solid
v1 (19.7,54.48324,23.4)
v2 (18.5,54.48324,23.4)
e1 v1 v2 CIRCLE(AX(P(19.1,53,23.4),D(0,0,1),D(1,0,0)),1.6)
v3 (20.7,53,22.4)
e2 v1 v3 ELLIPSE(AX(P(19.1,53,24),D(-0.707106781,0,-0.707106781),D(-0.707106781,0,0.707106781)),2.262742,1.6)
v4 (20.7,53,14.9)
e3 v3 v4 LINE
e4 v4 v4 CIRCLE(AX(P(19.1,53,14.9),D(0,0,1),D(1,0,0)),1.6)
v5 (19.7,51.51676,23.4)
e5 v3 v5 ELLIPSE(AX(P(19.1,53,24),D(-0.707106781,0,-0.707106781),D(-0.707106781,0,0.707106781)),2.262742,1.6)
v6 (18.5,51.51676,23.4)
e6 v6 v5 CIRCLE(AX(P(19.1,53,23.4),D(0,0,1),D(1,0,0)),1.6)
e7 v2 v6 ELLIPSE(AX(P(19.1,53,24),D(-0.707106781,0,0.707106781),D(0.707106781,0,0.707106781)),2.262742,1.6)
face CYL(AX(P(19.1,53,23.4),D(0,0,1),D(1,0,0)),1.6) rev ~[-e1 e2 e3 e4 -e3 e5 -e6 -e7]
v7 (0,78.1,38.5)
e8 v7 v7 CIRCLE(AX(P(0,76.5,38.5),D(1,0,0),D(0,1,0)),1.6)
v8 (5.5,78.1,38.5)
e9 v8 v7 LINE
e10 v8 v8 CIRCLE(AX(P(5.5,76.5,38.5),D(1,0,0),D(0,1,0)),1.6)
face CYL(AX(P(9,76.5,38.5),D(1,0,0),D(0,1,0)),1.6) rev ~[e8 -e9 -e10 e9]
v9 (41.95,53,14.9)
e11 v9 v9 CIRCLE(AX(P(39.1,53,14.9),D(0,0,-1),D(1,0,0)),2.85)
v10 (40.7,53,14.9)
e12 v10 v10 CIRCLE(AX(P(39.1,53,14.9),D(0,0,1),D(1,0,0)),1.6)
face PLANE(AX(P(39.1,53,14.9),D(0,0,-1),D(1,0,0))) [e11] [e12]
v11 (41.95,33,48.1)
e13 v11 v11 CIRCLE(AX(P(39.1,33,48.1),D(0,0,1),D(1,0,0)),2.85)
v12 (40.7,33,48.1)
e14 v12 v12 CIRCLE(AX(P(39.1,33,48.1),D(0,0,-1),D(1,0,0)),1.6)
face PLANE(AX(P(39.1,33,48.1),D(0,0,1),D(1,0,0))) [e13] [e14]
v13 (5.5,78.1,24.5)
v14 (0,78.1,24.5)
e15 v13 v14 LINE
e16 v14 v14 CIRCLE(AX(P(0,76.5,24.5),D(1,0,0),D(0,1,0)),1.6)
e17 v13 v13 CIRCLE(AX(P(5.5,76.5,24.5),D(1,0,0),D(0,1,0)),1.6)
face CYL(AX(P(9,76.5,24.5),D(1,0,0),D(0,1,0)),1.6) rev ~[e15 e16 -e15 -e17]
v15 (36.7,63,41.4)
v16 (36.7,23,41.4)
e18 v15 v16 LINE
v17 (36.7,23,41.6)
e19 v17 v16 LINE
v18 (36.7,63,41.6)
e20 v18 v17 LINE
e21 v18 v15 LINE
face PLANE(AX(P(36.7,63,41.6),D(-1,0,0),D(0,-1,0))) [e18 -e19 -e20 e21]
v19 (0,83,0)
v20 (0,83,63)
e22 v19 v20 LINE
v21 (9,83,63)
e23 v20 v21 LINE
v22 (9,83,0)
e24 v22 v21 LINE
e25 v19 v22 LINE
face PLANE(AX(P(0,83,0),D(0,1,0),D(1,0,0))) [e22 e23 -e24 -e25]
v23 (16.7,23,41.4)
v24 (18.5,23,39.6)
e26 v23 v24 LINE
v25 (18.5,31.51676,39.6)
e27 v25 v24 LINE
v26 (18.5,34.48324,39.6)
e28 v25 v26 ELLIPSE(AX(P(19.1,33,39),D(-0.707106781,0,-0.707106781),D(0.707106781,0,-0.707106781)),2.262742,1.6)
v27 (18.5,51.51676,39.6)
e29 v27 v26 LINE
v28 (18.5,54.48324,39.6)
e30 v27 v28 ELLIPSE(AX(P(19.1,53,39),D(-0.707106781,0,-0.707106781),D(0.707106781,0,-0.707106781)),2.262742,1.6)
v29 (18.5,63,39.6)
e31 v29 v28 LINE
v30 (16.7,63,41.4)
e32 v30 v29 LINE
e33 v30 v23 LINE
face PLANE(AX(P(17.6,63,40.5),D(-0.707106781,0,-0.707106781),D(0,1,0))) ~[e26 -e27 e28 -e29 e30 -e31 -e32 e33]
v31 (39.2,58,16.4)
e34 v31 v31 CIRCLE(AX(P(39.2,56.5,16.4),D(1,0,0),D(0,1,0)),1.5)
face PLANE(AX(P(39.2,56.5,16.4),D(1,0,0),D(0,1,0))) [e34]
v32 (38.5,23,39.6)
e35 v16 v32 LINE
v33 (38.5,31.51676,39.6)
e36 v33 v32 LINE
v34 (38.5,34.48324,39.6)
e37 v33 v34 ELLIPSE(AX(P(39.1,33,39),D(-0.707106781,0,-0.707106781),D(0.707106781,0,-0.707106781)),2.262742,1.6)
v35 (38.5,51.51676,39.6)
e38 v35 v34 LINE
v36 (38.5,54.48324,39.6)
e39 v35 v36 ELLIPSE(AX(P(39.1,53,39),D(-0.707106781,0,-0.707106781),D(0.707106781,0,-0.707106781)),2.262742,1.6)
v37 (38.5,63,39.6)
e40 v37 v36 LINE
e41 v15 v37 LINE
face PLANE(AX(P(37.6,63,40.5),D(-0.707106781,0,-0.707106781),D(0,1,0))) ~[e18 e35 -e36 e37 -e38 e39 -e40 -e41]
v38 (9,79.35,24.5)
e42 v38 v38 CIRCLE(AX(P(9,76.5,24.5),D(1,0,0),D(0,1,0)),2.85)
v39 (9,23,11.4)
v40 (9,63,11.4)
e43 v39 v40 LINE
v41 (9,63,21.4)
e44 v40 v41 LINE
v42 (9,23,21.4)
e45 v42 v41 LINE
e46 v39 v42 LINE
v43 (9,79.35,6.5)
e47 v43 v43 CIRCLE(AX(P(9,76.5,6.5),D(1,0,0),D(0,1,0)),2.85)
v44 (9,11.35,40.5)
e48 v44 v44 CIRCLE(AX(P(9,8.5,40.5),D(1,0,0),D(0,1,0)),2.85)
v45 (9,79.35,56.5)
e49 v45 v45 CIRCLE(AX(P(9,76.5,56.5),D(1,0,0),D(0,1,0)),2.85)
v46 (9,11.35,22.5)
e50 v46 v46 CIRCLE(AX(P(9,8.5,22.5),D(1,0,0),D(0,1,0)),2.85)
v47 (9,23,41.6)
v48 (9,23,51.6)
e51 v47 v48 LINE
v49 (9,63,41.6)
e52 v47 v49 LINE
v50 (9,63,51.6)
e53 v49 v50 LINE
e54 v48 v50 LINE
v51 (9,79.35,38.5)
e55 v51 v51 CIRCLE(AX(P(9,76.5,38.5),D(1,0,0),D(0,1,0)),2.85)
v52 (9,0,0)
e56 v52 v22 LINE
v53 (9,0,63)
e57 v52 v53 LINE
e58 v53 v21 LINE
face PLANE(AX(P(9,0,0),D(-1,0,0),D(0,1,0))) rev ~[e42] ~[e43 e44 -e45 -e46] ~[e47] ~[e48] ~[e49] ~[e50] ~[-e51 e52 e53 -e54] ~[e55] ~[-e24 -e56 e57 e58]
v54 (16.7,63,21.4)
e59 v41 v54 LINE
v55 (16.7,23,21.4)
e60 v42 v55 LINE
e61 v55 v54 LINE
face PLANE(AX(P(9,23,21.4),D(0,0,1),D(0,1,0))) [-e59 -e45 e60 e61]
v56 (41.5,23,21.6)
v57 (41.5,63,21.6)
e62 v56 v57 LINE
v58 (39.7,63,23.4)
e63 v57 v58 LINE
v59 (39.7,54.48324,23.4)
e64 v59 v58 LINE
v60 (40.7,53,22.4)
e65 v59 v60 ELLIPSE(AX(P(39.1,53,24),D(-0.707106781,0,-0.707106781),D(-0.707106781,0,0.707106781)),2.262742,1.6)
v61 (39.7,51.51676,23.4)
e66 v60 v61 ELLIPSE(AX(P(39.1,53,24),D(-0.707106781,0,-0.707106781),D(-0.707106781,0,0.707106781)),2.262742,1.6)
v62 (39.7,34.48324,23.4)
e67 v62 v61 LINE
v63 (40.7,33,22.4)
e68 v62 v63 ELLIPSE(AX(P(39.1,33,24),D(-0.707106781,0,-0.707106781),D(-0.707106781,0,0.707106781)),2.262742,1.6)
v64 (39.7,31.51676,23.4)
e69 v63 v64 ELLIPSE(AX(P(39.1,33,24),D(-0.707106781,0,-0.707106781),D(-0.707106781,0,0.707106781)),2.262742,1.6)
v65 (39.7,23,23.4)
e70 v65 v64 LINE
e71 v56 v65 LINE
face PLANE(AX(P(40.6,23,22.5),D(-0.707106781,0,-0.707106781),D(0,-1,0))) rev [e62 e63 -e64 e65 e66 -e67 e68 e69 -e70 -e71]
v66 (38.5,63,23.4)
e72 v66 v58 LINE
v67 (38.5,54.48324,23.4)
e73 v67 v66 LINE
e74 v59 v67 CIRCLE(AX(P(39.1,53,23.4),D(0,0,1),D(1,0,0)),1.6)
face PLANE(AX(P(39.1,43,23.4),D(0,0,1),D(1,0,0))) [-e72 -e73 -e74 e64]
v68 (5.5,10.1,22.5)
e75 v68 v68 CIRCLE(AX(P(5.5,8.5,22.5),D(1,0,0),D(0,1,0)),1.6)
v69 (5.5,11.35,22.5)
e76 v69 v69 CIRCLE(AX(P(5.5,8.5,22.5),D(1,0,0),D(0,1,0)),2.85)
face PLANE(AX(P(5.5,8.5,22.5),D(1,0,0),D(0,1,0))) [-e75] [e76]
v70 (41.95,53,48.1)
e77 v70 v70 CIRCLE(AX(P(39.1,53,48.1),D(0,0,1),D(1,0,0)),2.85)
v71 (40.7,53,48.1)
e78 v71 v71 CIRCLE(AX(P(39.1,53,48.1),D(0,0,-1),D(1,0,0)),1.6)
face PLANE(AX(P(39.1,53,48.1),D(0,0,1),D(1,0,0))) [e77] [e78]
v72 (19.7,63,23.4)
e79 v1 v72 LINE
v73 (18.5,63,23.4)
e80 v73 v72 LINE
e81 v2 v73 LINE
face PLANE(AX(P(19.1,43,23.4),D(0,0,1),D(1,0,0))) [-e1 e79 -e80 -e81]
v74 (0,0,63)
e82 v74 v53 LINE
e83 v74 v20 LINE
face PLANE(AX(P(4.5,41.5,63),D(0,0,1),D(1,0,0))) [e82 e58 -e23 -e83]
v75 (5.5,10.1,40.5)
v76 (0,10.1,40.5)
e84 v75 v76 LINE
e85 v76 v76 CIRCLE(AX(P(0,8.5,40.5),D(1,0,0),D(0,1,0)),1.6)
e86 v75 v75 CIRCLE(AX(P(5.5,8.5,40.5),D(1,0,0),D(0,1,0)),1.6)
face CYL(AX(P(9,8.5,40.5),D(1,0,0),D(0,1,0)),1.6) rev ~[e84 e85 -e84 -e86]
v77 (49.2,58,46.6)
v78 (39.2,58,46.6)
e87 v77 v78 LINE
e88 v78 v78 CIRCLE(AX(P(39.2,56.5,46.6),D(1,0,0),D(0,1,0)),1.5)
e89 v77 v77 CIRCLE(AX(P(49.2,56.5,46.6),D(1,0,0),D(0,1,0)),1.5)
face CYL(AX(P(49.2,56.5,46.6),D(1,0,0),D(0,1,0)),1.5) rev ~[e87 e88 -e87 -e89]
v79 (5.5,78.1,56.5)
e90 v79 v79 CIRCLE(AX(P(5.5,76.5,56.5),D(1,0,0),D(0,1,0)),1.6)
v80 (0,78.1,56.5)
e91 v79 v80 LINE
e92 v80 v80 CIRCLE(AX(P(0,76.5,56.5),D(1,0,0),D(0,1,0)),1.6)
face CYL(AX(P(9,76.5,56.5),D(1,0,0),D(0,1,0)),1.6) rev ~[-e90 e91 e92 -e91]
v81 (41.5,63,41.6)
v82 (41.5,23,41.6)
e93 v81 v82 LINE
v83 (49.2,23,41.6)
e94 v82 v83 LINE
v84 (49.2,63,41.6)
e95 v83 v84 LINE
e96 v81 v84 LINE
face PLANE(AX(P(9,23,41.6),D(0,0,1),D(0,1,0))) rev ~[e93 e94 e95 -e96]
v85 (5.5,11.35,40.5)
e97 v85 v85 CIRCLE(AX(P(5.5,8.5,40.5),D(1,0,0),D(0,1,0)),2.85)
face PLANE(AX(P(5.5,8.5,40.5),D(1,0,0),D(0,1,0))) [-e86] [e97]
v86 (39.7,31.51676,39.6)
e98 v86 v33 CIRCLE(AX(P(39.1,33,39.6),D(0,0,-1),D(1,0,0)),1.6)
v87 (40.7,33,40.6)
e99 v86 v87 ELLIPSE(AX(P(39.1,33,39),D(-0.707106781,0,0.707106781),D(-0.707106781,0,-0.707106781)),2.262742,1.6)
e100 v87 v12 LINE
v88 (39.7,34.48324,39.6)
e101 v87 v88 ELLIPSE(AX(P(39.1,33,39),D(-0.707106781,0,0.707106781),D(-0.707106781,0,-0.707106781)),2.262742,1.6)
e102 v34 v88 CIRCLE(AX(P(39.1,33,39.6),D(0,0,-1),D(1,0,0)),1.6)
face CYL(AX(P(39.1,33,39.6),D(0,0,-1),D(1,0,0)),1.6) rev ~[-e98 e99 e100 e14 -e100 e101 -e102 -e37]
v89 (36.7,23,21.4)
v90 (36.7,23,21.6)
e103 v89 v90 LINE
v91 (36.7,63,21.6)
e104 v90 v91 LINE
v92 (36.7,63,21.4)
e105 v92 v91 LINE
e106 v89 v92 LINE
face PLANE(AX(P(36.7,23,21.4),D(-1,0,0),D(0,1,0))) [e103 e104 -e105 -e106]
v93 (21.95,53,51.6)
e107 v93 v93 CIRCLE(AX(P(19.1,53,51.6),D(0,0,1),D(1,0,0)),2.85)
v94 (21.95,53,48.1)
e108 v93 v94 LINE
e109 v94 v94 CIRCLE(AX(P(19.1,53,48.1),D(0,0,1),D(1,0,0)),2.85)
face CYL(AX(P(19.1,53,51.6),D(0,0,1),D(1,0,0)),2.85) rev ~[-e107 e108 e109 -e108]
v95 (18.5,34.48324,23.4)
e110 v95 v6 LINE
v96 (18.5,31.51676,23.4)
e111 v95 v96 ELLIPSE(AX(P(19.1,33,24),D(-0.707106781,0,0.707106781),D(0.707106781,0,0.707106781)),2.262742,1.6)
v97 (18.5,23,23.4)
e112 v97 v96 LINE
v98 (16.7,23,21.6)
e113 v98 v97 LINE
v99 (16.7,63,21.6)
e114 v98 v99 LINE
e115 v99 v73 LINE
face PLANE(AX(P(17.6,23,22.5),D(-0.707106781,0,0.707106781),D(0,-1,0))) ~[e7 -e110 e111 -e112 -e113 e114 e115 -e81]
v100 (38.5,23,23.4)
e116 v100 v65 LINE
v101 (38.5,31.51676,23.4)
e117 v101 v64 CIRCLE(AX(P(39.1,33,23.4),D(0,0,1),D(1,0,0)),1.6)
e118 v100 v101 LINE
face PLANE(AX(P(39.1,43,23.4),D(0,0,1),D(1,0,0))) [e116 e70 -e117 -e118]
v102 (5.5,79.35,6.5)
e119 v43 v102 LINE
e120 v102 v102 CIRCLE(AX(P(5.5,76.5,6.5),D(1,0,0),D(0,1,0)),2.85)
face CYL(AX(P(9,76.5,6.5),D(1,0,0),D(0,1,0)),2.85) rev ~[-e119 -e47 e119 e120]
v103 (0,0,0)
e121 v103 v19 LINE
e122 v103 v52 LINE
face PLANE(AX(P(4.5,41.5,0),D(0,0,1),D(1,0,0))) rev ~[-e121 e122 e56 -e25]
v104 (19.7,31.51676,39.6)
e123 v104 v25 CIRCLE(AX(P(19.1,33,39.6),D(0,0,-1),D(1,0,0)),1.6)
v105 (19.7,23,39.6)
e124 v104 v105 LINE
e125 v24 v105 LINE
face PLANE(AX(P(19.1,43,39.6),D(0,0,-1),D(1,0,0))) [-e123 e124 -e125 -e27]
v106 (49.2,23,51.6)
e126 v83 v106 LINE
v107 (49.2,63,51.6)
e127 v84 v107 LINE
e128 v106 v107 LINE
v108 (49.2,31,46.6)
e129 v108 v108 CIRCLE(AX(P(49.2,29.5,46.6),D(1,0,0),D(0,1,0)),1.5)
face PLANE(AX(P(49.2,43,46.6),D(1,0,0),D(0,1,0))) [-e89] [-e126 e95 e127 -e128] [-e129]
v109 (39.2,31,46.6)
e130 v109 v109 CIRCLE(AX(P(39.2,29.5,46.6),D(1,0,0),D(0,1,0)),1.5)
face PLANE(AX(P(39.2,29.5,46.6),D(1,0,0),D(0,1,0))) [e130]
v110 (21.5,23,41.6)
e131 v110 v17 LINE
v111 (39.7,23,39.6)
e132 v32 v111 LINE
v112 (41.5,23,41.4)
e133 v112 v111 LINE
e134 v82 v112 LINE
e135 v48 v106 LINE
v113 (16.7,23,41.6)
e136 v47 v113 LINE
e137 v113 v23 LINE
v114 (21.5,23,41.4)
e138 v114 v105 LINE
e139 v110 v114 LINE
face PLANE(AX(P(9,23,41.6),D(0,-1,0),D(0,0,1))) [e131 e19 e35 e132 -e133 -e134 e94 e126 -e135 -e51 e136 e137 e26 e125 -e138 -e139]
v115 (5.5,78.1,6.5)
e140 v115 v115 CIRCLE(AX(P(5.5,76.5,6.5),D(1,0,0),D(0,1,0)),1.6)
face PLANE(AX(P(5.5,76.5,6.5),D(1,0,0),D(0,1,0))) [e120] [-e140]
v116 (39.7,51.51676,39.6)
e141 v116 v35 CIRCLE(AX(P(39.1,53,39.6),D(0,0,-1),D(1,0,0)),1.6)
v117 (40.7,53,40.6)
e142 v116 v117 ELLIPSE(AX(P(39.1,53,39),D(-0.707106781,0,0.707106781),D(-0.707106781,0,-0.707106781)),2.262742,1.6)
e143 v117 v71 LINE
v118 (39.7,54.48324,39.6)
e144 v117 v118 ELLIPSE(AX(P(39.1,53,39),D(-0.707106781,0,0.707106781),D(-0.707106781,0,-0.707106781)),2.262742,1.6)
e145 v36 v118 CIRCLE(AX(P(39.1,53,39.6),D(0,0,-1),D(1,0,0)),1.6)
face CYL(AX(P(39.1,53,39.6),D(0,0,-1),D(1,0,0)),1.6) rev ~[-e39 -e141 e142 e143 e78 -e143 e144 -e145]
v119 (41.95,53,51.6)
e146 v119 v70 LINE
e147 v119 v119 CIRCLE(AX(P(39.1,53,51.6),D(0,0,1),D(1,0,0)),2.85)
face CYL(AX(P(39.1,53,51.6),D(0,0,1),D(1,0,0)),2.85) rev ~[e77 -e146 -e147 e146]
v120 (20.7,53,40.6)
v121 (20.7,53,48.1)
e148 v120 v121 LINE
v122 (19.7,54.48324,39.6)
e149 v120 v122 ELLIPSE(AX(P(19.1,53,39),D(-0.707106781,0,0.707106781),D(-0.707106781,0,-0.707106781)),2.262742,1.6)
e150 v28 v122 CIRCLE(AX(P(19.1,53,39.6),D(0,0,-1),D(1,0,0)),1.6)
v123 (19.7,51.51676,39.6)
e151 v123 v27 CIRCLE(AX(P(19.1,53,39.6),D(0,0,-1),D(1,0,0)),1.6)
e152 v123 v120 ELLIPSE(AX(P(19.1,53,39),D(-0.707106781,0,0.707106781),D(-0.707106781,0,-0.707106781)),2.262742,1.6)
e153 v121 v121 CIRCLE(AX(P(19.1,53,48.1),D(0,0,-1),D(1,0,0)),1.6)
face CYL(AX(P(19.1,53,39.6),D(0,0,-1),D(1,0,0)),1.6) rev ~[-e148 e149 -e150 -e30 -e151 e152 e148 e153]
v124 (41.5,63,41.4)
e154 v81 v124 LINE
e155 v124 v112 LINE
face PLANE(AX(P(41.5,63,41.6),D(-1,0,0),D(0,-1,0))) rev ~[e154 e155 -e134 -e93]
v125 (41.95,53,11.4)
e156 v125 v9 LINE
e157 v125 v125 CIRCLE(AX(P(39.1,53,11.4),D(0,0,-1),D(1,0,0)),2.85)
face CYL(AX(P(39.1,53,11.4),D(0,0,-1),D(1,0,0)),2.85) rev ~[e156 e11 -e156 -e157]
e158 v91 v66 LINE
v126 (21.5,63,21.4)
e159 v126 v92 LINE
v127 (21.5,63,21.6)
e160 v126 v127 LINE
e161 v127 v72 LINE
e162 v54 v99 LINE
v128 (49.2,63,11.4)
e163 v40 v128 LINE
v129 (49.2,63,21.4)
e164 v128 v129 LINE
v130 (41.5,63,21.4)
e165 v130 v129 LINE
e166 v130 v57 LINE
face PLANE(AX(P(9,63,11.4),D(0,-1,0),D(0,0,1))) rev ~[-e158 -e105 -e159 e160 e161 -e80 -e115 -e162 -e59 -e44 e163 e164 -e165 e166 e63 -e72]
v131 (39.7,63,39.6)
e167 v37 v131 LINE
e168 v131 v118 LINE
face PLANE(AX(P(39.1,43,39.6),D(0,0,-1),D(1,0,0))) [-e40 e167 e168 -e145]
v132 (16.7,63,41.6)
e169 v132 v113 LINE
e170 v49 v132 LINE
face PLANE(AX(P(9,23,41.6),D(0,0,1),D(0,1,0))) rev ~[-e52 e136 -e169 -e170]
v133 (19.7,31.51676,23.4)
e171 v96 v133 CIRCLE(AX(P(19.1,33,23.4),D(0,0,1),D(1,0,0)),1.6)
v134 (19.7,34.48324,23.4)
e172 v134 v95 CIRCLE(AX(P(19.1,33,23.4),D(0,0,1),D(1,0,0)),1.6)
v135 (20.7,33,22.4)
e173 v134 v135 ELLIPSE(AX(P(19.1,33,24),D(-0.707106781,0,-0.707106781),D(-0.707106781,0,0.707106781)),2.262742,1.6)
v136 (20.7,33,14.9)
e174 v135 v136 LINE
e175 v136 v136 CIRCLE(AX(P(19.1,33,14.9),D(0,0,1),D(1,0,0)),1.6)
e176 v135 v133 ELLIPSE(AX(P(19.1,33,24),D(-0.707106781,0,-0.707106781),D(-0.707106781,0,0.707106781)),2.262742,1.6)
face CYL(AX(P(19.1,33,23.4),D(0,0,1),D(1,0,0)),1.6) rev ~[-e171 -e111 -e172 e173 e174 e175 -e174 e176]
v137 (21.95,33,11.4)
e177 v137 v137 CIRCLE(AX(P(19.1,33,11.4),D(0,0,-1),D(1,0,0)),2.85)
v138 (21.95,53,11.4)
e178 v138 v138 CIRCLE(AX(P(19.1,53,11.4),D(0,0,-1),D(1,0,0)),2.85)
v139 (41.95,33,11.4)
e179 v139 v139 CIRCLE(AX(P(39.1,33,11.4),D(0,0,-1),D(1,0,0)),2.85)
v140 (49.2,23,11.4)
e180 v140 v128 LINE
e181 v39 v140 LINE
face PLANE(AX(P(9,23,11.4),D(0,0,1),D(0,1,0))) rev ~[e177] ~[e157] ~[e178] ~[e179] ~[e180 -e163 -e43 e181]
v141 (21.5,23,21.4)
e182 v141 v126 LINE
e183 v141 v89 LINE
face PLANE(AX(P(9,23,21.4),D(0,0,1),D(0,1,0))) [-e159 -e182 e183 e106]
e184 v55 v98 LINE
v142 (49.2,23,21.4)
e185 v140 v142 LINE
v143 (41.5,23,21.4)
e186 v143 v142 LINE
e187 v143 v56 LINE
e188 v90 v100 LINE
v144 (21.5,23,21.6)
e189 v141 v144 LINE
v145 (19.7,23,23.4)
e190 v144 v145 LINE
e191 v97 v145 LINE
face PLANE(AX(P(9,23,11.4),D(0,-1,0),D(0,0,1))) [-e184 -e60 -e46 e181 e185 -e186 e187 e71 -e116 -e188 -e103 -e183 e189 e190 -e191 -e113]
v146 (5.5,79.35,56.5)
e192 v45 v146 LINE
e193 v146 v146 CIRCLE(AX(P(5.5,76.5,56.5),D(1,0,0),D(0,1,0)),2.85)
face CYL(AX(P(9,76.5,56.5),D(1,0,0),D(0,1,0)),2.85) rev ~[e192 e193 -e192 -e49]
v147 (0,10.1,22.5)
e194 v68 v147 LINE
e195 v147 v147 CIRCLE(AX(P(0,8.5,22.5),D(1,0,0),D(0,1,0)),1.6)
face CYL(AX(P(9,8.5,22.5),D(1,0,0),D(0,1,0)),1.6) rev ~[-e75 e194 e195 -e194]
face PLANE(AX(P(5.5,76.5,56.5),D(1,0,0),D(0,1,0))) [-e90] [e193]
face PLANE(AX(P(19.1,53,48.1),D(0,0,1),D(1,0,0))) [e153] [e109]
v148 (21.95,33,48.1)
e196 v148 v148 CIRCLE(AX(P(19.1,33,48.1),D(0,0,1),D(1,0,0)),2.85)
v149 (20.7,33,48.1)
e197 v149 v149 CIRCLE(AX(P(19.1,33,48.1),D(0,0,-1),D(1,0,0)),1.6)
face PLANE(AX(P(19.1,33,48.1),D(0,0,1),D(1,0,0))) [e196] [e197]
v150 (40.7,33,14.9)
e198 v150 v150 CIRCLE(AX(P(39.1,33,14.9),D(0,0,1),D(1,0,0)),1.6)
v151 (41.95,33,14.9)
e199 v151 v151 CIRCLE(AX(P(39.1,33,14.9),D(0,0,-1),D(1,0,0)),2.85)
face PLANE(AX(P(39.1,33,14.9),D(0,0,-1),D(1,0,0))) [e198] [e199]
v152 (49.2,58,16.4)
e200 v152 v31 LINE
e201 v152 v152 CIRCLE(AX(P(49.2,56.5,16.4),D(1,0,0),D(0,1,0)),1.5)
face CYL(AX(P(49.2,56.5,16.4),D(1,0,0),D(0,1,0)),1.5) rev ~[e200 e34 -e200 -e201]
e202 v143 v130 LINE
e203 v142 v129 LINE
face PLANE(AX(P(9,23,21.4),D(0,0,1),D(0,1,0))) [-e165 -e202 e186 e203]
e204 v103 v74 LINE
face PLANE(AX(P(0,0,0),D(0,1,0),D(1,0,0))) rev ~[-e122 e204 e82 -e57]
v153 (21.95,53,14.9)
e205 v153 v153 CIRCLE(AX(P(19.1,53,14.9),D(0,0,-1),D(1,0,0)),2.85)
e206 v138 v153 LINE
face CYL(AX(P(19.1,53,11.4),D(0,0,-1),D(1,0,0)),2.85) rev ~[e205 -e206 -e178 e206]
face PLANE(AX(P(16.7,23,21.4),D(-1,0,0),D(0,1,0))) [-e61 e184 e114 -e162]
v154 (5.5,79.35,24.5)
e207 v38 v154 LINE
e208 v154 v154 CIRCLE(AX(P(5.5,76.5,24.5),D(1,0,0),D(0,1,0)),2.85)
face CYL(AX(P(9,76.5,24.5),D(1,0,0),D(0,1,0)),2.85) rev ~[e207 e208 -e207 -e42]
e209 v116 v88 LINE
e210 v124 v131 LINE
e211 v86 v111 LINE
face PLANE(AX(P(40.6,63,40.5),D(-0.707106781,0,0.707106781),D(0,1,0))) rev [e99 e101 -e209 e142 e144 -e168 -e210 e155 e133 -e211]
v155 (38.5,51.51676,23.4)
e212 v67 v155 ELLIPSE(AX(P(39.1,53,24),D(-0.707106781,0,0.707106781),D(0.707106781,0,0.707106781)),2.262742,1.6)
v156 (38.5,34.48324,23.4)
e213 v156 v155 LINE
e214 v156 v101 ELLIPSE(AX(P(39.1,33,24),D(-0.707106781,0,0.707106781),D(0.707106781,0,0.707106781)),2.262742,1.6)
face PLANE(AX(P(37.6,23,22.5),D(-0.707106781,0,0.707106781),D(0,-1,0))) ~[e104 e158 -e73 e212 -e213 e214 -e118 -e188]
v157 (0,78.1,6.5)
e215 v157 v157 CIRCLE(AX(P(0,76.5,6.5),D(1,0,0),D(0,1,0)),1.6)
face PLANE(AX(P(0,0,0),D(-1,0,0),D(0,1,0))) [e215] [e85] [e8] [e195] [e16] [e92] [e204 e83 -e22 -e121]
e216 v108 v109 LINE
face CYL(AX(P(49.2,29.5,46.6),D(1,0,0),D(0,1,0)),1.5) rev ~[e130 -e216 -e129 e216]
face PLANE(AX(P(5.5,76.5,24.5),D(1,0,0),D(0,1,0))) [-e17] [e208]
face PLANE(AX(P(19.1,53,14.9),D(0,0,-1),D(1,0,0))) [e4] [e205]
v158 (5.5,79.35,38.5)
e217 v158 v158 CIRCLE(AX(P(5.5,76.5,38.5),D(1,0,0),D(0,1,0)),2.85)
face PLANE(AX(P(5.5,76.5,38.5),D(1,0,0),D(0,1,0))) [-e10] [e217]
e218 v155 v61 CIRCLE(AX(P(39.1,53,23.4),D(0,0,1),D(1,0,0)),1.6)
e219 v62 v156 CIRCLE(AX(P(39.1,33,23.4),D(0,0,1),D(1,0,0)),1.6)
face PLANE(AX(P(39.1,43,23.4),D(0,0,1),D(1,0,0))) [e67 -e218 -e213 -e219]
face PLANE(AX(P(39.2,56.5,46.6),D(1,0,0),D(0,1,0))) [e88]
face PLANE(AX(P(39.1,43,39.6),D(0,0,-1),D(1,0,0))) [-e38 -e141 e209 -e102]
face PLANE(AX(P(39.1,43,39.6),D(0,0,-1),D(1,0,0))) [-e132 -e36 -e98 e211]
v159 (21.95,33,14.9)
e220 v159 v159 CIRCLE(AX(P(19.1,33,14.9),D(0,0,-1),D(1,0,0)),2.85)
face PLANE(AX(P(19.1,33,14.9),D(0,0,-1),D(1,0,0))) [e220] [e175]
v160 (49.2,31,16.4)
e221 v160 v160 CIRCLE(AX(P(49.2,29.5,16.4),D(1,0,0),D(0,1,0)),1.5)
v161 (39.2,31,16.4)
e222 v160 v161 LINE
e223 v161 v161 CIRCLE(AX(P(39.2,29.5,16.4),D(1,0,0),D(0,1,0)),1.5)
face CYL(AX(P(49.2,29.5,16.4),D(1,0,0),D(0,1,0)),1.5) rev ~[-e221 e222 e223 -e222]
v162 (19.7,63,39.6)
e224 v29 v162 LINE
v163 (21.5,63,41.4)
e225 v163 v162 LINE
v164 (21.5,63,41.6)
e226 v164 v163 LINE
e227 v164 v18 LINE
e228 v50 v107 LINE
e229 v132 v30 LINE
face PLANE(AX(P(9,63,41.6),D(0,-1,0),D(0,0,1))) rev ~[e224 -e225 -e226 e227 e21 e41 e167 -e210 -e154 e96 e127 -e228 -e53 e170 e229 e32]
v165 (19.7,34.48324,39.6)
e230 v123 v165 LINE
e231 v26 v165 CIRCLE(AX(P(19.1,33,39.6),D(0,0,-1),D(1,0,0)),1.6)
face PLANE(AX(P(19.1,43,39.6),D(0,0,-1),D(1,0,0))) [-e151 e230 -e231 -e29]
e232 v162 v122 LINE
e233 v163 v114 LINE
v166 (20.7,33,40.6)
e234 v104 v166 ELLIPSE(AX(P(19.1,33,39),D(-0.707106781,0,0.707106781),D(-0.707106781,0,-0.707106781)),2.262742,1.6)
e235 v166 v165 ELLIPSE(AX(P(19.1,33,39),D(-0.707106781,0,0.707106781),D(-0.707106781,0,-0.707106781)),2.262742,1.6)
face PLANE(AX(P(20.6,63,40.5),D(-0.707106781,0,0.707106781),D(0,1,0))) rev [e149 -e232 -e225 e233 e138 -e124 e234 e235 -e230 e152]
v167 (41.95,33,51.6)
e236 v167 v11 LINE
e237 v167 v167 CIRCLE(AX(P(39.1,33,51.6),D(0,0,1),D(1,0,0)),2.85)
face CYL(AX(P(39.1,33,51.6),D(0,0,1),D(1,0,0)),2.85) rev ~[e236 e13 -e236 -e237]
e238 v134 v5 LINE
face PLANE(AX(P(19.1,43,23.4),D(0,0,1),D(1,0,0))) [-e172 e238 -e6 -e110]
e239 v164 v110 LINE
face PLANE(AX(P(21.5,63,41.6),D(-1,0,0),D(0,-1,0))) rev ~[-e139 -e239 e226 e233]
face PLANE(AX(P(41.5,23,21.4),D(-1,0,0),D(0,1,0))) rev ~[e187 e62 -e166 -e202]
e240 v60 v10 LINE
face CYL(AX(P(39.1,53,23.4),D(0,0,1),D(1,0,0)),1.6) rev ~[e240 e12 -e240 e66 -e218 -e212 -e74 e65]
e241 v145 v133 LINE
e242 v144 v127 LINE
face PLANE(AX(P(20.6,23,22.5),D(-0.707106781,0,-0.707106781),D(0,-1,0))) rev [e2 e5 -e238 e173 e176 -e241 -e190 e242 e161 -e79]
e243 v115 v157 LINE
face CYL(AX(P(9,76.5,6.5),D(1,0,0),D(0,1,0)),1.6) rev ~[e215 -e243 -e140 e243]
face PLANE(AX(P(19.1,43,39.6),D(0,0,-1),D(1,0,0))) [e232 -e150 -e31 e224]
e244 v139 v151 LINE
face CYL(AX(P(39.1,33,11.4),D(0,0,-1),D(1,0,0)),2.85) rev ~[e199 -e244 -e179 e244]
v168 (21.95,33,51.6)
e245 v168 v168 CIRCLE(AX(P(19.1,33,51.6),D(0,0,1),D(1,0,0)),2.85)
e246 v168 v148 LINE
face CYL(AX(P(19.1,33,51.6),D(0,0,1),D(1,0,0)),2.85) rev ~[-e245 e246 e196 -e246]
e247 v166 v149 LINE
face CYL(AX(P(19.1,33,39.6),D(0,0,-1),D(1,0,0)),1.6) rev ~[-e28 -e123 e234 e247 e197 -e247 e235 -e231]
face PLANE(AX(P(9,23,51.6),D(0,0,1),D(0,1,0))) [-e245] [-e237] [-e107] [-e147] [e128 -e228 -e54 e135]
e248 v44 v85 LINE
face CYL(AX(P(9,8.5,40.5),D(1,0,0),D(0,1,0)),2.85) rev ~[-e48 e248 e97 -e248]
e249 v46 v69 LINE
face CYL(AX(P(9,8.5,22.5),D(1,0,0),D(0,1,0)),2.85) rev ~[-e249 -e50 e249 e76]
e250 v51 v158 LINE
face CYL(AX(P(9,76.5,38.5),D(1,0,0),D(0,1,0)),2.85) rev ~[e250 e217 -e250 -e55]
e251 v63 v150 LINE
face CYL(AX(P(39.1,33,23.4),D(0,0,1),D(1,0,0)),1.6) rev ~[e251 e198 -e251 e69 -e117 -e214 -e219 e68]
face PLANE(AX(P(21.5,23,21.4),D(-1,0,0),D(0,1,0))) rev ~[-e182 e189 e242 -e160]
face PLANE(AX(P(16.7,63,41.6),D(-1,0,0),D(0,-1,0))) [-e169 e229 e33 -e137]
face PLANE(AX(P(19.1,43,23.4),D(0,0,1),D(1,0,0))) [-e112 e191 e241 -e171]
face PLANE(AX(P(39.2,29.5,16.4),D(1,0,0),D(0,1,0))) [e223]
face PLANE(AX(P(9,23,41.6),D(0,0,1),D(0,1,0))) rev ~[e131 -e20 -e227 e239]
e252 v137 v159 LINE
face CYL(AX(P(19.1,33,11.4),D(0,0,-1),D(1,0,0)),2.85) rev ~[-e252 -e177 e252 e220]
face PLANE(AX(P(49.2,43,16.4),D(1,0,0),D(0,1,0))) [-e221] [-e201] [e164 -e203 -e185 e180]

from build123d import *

# Parameters (mm, degrees)
F1_W      = 9
F1_H      = 83
F2_DEPTH  = 63
F3_R      = 2.85
F4_DEPTH  = 3.5
F5_R      = 1.6
F6_DEPTH  = 25
F7_W      = 40
F7_H      = 10
F8_DEPTH  = 40.2
F9_W      = 4.8
F9_H      = 40
F10_DEPTH = 2
F11_SIZE  = 1.8
F12_R     = 1.6
F13_DEPTH = 25
F14_W     = 4.8
F14_H     = 40
F15_DEPTH = 2
F16_SIZE  = 1.8
F17_R     = 1.6
F18_DEPTH = 25
F19_R     = 2.85
F20_DEPTH = 3.5
F21_R     = 2.85
F22_DEPTH = 3.5
F23_R     = 1.5
F24_DEPTH = 10


with BuildPart() as f2:
    # F1 (on Top) → F2 (new body)
    with BuildSketch(Plane.XY):
        with Locations((4.5, 41.5)):
            Rectangle(F1_W, F1_H)
    extrude(amount=F2_DEPTH)

    # F3 (on face) → F4 (cut)
    with BuildSketch(Plane.YZ.offset(9)):
        with Locations((8.5, 40.5)):
            Circle(F3_R)
        with Locations((8.5, 22.5)):
            Circle(F3_R)
        with Locations((76.5, 56.5)):
            Circle(F3_R)
        with Locations((76.5, 38.5)):
            Circle(F3_R)
        with Locations((76.5, 24.5)):
            Circle(F3_R)
        with Locations((76.5, 6.5)):
            Circle(F3_R)
    extrude(amount=-F4_DEPTH, mode=Mode.SUBTRACT)

    # F5 (on face) → F6 (cut)
    with BuildSketch(Plane.YZ.offset(9)):
        with Locations((8.5, 40.5)):
            Circle(F5_R)
        with Locations((8.5, 22.5)):
            Circle(F5_R)
        with Locations((76.5, 24.5)):
            Circle(F5_R)
        with Locations((76.5, 38.5)):
            Circle(F5_R)
        with Locations((76.5, 56.5)):
            Circle(F5_R)
        with Locations((76.5, 6.5)):
            Circle(F5_R)
    extrude(amount=-F6_DEPTH, mode=Mode.SUBTRACT)

    # F7 (on face) → F8 (join)
    with BuildSketch(Plane.YZ.offset(9)):
        with Locations((43, 16.4)):
            Rectangle(F7_W, F7_H)
        with Locations((43, 46.6)):
            Rectangle(F7_W, F7_H)
    extrude(amount=F8_DEPTH)

    # F9 (on face) → F10 (join)
    with BuildSketch(Plane(origin=(0, 0, 41.6), x_dir=(1, 0, 0), z_dir=(0, 0, -1))):
        with Locations((19.1, -43)):
            Rectangle(F9_W, F9_H)
        with Locations((39.1, -43)):
            Rectangle(F9_W, F9_H)
    extrude(amount=F10_DEPTH)

    # F11
    f11_edges = [f2.edges().sort_by_distance(p)[0] for p in [
        (21.5, 43, 39.6),
        (16.7, 43, 39.6),
        (41.5, 43, 39.6),
        (36.7, 43, 39.6),
    ]]
    chamfer(f11_edges, length=F11_SIZE)

    # F12 (on face) → F13 (cut)
    with BuildSketch(Plane(origin=(0, 0, 39.6), x_dir=(1, 0, 0), z_dir=(0, 0, -1))):
        with Locations((19.1, -33)):
            Circle(F12_R)
        with Locations((19.1, -53)):
            Circle(F12_R)
        with Locations((39.1, -33)):
            Circle(F12_R)
        with Locations((39.1, -53)):
            Circle(F12_R)
    extrude(amount=-F13_DEPTH, mode=Mode.SUBTRACT)

    # F14 (on face) → F15 (join)
    with BuildSketch(Plane.XY.offset(21.4)):
        with Locations((19.1, 43)):
            Rectangle(F14_W, F14_H)
        with Locations((39.1, 43)):
            Rectangle(F14_W, F14_H)
    extrude(amount=F15_DEPTH)

    # F16
    f16_edges = [f2.edges().sort_by_distance(p)[0] for p in [
        (21.5, 43, 23.4),
        (16.7, 43, 23.4),
        (36.7, 43, 23.4),
        (41.5, 43, 23.4),
    ]]
    chamfer(f16_edges, length=F16_SIZE)

    # F17 (on face) → F18 (cut)
    with BuildSketch(Plane.XY.offset(23.4)):
        with Locations((19.1, 33)):
            Circle(F17_R)
        with Locations((19.1, 53)):
            Circle(F17_R)
        with Locations((39.1, 33)):
            Circle(F17_R)
        with Locations((39.1, 53)):
            Circle(F17_R)
    extrude(amount=-F18_DEPTH, mode=Mode.SUBTRACT)

    # F19 (on face) → F20 (cut)
    with BuildSketch(Plane(origin=(0, 0, 11.4), x_dir=(1, 0, 0), z_dir=(0, 0, -1))):
        with Locations((19.1, -33)):
            Circle(F19_R)
        with Locations((19.1, -53)):
            Circle(F19_R)
        with Locations((39.1, -33)):
            Circle(F19_R)
        with Locations((39.1, -53)):
            Circle(F19_R)
    extrude(amount=-F20_DEPTH, mode=Mode.SUBTRACT)

    # F21 (on face) → F22 (cut)
    with BuildSketch(Plane.XY.offset(51.6)):
        with Locations((19.1, 53)):
            Circle(F21_R)
        with Locations((19.1, 33)):
            Circle(F21_R)
        with Locations((39.1, 53)):
            Circle(F21_R)
        with Locations((39.1, 33)):
            Circle(F21_R)
    extrude(amount=-F22_DEPTH, mode=Mode.SUBTRACT)

    # F23 (on face) → F24 (cut)
    with BuildSketch(Plane.YZ.offset(49.2)):
        with Locations((56.5, 16.4)):
            Circle(F23_R)
        with Locations((29.5, 16.4)):
            Circle(F23_R)
        with Locations((29.5, 46.6)):
            Circle(F23_R)
        with Locations((56.5, 46.6)):
            Circle(F23_R)
    extrude(amount=-F24_DEPTH, mode=Mode.SUBTRACT)


solid = f2.part
